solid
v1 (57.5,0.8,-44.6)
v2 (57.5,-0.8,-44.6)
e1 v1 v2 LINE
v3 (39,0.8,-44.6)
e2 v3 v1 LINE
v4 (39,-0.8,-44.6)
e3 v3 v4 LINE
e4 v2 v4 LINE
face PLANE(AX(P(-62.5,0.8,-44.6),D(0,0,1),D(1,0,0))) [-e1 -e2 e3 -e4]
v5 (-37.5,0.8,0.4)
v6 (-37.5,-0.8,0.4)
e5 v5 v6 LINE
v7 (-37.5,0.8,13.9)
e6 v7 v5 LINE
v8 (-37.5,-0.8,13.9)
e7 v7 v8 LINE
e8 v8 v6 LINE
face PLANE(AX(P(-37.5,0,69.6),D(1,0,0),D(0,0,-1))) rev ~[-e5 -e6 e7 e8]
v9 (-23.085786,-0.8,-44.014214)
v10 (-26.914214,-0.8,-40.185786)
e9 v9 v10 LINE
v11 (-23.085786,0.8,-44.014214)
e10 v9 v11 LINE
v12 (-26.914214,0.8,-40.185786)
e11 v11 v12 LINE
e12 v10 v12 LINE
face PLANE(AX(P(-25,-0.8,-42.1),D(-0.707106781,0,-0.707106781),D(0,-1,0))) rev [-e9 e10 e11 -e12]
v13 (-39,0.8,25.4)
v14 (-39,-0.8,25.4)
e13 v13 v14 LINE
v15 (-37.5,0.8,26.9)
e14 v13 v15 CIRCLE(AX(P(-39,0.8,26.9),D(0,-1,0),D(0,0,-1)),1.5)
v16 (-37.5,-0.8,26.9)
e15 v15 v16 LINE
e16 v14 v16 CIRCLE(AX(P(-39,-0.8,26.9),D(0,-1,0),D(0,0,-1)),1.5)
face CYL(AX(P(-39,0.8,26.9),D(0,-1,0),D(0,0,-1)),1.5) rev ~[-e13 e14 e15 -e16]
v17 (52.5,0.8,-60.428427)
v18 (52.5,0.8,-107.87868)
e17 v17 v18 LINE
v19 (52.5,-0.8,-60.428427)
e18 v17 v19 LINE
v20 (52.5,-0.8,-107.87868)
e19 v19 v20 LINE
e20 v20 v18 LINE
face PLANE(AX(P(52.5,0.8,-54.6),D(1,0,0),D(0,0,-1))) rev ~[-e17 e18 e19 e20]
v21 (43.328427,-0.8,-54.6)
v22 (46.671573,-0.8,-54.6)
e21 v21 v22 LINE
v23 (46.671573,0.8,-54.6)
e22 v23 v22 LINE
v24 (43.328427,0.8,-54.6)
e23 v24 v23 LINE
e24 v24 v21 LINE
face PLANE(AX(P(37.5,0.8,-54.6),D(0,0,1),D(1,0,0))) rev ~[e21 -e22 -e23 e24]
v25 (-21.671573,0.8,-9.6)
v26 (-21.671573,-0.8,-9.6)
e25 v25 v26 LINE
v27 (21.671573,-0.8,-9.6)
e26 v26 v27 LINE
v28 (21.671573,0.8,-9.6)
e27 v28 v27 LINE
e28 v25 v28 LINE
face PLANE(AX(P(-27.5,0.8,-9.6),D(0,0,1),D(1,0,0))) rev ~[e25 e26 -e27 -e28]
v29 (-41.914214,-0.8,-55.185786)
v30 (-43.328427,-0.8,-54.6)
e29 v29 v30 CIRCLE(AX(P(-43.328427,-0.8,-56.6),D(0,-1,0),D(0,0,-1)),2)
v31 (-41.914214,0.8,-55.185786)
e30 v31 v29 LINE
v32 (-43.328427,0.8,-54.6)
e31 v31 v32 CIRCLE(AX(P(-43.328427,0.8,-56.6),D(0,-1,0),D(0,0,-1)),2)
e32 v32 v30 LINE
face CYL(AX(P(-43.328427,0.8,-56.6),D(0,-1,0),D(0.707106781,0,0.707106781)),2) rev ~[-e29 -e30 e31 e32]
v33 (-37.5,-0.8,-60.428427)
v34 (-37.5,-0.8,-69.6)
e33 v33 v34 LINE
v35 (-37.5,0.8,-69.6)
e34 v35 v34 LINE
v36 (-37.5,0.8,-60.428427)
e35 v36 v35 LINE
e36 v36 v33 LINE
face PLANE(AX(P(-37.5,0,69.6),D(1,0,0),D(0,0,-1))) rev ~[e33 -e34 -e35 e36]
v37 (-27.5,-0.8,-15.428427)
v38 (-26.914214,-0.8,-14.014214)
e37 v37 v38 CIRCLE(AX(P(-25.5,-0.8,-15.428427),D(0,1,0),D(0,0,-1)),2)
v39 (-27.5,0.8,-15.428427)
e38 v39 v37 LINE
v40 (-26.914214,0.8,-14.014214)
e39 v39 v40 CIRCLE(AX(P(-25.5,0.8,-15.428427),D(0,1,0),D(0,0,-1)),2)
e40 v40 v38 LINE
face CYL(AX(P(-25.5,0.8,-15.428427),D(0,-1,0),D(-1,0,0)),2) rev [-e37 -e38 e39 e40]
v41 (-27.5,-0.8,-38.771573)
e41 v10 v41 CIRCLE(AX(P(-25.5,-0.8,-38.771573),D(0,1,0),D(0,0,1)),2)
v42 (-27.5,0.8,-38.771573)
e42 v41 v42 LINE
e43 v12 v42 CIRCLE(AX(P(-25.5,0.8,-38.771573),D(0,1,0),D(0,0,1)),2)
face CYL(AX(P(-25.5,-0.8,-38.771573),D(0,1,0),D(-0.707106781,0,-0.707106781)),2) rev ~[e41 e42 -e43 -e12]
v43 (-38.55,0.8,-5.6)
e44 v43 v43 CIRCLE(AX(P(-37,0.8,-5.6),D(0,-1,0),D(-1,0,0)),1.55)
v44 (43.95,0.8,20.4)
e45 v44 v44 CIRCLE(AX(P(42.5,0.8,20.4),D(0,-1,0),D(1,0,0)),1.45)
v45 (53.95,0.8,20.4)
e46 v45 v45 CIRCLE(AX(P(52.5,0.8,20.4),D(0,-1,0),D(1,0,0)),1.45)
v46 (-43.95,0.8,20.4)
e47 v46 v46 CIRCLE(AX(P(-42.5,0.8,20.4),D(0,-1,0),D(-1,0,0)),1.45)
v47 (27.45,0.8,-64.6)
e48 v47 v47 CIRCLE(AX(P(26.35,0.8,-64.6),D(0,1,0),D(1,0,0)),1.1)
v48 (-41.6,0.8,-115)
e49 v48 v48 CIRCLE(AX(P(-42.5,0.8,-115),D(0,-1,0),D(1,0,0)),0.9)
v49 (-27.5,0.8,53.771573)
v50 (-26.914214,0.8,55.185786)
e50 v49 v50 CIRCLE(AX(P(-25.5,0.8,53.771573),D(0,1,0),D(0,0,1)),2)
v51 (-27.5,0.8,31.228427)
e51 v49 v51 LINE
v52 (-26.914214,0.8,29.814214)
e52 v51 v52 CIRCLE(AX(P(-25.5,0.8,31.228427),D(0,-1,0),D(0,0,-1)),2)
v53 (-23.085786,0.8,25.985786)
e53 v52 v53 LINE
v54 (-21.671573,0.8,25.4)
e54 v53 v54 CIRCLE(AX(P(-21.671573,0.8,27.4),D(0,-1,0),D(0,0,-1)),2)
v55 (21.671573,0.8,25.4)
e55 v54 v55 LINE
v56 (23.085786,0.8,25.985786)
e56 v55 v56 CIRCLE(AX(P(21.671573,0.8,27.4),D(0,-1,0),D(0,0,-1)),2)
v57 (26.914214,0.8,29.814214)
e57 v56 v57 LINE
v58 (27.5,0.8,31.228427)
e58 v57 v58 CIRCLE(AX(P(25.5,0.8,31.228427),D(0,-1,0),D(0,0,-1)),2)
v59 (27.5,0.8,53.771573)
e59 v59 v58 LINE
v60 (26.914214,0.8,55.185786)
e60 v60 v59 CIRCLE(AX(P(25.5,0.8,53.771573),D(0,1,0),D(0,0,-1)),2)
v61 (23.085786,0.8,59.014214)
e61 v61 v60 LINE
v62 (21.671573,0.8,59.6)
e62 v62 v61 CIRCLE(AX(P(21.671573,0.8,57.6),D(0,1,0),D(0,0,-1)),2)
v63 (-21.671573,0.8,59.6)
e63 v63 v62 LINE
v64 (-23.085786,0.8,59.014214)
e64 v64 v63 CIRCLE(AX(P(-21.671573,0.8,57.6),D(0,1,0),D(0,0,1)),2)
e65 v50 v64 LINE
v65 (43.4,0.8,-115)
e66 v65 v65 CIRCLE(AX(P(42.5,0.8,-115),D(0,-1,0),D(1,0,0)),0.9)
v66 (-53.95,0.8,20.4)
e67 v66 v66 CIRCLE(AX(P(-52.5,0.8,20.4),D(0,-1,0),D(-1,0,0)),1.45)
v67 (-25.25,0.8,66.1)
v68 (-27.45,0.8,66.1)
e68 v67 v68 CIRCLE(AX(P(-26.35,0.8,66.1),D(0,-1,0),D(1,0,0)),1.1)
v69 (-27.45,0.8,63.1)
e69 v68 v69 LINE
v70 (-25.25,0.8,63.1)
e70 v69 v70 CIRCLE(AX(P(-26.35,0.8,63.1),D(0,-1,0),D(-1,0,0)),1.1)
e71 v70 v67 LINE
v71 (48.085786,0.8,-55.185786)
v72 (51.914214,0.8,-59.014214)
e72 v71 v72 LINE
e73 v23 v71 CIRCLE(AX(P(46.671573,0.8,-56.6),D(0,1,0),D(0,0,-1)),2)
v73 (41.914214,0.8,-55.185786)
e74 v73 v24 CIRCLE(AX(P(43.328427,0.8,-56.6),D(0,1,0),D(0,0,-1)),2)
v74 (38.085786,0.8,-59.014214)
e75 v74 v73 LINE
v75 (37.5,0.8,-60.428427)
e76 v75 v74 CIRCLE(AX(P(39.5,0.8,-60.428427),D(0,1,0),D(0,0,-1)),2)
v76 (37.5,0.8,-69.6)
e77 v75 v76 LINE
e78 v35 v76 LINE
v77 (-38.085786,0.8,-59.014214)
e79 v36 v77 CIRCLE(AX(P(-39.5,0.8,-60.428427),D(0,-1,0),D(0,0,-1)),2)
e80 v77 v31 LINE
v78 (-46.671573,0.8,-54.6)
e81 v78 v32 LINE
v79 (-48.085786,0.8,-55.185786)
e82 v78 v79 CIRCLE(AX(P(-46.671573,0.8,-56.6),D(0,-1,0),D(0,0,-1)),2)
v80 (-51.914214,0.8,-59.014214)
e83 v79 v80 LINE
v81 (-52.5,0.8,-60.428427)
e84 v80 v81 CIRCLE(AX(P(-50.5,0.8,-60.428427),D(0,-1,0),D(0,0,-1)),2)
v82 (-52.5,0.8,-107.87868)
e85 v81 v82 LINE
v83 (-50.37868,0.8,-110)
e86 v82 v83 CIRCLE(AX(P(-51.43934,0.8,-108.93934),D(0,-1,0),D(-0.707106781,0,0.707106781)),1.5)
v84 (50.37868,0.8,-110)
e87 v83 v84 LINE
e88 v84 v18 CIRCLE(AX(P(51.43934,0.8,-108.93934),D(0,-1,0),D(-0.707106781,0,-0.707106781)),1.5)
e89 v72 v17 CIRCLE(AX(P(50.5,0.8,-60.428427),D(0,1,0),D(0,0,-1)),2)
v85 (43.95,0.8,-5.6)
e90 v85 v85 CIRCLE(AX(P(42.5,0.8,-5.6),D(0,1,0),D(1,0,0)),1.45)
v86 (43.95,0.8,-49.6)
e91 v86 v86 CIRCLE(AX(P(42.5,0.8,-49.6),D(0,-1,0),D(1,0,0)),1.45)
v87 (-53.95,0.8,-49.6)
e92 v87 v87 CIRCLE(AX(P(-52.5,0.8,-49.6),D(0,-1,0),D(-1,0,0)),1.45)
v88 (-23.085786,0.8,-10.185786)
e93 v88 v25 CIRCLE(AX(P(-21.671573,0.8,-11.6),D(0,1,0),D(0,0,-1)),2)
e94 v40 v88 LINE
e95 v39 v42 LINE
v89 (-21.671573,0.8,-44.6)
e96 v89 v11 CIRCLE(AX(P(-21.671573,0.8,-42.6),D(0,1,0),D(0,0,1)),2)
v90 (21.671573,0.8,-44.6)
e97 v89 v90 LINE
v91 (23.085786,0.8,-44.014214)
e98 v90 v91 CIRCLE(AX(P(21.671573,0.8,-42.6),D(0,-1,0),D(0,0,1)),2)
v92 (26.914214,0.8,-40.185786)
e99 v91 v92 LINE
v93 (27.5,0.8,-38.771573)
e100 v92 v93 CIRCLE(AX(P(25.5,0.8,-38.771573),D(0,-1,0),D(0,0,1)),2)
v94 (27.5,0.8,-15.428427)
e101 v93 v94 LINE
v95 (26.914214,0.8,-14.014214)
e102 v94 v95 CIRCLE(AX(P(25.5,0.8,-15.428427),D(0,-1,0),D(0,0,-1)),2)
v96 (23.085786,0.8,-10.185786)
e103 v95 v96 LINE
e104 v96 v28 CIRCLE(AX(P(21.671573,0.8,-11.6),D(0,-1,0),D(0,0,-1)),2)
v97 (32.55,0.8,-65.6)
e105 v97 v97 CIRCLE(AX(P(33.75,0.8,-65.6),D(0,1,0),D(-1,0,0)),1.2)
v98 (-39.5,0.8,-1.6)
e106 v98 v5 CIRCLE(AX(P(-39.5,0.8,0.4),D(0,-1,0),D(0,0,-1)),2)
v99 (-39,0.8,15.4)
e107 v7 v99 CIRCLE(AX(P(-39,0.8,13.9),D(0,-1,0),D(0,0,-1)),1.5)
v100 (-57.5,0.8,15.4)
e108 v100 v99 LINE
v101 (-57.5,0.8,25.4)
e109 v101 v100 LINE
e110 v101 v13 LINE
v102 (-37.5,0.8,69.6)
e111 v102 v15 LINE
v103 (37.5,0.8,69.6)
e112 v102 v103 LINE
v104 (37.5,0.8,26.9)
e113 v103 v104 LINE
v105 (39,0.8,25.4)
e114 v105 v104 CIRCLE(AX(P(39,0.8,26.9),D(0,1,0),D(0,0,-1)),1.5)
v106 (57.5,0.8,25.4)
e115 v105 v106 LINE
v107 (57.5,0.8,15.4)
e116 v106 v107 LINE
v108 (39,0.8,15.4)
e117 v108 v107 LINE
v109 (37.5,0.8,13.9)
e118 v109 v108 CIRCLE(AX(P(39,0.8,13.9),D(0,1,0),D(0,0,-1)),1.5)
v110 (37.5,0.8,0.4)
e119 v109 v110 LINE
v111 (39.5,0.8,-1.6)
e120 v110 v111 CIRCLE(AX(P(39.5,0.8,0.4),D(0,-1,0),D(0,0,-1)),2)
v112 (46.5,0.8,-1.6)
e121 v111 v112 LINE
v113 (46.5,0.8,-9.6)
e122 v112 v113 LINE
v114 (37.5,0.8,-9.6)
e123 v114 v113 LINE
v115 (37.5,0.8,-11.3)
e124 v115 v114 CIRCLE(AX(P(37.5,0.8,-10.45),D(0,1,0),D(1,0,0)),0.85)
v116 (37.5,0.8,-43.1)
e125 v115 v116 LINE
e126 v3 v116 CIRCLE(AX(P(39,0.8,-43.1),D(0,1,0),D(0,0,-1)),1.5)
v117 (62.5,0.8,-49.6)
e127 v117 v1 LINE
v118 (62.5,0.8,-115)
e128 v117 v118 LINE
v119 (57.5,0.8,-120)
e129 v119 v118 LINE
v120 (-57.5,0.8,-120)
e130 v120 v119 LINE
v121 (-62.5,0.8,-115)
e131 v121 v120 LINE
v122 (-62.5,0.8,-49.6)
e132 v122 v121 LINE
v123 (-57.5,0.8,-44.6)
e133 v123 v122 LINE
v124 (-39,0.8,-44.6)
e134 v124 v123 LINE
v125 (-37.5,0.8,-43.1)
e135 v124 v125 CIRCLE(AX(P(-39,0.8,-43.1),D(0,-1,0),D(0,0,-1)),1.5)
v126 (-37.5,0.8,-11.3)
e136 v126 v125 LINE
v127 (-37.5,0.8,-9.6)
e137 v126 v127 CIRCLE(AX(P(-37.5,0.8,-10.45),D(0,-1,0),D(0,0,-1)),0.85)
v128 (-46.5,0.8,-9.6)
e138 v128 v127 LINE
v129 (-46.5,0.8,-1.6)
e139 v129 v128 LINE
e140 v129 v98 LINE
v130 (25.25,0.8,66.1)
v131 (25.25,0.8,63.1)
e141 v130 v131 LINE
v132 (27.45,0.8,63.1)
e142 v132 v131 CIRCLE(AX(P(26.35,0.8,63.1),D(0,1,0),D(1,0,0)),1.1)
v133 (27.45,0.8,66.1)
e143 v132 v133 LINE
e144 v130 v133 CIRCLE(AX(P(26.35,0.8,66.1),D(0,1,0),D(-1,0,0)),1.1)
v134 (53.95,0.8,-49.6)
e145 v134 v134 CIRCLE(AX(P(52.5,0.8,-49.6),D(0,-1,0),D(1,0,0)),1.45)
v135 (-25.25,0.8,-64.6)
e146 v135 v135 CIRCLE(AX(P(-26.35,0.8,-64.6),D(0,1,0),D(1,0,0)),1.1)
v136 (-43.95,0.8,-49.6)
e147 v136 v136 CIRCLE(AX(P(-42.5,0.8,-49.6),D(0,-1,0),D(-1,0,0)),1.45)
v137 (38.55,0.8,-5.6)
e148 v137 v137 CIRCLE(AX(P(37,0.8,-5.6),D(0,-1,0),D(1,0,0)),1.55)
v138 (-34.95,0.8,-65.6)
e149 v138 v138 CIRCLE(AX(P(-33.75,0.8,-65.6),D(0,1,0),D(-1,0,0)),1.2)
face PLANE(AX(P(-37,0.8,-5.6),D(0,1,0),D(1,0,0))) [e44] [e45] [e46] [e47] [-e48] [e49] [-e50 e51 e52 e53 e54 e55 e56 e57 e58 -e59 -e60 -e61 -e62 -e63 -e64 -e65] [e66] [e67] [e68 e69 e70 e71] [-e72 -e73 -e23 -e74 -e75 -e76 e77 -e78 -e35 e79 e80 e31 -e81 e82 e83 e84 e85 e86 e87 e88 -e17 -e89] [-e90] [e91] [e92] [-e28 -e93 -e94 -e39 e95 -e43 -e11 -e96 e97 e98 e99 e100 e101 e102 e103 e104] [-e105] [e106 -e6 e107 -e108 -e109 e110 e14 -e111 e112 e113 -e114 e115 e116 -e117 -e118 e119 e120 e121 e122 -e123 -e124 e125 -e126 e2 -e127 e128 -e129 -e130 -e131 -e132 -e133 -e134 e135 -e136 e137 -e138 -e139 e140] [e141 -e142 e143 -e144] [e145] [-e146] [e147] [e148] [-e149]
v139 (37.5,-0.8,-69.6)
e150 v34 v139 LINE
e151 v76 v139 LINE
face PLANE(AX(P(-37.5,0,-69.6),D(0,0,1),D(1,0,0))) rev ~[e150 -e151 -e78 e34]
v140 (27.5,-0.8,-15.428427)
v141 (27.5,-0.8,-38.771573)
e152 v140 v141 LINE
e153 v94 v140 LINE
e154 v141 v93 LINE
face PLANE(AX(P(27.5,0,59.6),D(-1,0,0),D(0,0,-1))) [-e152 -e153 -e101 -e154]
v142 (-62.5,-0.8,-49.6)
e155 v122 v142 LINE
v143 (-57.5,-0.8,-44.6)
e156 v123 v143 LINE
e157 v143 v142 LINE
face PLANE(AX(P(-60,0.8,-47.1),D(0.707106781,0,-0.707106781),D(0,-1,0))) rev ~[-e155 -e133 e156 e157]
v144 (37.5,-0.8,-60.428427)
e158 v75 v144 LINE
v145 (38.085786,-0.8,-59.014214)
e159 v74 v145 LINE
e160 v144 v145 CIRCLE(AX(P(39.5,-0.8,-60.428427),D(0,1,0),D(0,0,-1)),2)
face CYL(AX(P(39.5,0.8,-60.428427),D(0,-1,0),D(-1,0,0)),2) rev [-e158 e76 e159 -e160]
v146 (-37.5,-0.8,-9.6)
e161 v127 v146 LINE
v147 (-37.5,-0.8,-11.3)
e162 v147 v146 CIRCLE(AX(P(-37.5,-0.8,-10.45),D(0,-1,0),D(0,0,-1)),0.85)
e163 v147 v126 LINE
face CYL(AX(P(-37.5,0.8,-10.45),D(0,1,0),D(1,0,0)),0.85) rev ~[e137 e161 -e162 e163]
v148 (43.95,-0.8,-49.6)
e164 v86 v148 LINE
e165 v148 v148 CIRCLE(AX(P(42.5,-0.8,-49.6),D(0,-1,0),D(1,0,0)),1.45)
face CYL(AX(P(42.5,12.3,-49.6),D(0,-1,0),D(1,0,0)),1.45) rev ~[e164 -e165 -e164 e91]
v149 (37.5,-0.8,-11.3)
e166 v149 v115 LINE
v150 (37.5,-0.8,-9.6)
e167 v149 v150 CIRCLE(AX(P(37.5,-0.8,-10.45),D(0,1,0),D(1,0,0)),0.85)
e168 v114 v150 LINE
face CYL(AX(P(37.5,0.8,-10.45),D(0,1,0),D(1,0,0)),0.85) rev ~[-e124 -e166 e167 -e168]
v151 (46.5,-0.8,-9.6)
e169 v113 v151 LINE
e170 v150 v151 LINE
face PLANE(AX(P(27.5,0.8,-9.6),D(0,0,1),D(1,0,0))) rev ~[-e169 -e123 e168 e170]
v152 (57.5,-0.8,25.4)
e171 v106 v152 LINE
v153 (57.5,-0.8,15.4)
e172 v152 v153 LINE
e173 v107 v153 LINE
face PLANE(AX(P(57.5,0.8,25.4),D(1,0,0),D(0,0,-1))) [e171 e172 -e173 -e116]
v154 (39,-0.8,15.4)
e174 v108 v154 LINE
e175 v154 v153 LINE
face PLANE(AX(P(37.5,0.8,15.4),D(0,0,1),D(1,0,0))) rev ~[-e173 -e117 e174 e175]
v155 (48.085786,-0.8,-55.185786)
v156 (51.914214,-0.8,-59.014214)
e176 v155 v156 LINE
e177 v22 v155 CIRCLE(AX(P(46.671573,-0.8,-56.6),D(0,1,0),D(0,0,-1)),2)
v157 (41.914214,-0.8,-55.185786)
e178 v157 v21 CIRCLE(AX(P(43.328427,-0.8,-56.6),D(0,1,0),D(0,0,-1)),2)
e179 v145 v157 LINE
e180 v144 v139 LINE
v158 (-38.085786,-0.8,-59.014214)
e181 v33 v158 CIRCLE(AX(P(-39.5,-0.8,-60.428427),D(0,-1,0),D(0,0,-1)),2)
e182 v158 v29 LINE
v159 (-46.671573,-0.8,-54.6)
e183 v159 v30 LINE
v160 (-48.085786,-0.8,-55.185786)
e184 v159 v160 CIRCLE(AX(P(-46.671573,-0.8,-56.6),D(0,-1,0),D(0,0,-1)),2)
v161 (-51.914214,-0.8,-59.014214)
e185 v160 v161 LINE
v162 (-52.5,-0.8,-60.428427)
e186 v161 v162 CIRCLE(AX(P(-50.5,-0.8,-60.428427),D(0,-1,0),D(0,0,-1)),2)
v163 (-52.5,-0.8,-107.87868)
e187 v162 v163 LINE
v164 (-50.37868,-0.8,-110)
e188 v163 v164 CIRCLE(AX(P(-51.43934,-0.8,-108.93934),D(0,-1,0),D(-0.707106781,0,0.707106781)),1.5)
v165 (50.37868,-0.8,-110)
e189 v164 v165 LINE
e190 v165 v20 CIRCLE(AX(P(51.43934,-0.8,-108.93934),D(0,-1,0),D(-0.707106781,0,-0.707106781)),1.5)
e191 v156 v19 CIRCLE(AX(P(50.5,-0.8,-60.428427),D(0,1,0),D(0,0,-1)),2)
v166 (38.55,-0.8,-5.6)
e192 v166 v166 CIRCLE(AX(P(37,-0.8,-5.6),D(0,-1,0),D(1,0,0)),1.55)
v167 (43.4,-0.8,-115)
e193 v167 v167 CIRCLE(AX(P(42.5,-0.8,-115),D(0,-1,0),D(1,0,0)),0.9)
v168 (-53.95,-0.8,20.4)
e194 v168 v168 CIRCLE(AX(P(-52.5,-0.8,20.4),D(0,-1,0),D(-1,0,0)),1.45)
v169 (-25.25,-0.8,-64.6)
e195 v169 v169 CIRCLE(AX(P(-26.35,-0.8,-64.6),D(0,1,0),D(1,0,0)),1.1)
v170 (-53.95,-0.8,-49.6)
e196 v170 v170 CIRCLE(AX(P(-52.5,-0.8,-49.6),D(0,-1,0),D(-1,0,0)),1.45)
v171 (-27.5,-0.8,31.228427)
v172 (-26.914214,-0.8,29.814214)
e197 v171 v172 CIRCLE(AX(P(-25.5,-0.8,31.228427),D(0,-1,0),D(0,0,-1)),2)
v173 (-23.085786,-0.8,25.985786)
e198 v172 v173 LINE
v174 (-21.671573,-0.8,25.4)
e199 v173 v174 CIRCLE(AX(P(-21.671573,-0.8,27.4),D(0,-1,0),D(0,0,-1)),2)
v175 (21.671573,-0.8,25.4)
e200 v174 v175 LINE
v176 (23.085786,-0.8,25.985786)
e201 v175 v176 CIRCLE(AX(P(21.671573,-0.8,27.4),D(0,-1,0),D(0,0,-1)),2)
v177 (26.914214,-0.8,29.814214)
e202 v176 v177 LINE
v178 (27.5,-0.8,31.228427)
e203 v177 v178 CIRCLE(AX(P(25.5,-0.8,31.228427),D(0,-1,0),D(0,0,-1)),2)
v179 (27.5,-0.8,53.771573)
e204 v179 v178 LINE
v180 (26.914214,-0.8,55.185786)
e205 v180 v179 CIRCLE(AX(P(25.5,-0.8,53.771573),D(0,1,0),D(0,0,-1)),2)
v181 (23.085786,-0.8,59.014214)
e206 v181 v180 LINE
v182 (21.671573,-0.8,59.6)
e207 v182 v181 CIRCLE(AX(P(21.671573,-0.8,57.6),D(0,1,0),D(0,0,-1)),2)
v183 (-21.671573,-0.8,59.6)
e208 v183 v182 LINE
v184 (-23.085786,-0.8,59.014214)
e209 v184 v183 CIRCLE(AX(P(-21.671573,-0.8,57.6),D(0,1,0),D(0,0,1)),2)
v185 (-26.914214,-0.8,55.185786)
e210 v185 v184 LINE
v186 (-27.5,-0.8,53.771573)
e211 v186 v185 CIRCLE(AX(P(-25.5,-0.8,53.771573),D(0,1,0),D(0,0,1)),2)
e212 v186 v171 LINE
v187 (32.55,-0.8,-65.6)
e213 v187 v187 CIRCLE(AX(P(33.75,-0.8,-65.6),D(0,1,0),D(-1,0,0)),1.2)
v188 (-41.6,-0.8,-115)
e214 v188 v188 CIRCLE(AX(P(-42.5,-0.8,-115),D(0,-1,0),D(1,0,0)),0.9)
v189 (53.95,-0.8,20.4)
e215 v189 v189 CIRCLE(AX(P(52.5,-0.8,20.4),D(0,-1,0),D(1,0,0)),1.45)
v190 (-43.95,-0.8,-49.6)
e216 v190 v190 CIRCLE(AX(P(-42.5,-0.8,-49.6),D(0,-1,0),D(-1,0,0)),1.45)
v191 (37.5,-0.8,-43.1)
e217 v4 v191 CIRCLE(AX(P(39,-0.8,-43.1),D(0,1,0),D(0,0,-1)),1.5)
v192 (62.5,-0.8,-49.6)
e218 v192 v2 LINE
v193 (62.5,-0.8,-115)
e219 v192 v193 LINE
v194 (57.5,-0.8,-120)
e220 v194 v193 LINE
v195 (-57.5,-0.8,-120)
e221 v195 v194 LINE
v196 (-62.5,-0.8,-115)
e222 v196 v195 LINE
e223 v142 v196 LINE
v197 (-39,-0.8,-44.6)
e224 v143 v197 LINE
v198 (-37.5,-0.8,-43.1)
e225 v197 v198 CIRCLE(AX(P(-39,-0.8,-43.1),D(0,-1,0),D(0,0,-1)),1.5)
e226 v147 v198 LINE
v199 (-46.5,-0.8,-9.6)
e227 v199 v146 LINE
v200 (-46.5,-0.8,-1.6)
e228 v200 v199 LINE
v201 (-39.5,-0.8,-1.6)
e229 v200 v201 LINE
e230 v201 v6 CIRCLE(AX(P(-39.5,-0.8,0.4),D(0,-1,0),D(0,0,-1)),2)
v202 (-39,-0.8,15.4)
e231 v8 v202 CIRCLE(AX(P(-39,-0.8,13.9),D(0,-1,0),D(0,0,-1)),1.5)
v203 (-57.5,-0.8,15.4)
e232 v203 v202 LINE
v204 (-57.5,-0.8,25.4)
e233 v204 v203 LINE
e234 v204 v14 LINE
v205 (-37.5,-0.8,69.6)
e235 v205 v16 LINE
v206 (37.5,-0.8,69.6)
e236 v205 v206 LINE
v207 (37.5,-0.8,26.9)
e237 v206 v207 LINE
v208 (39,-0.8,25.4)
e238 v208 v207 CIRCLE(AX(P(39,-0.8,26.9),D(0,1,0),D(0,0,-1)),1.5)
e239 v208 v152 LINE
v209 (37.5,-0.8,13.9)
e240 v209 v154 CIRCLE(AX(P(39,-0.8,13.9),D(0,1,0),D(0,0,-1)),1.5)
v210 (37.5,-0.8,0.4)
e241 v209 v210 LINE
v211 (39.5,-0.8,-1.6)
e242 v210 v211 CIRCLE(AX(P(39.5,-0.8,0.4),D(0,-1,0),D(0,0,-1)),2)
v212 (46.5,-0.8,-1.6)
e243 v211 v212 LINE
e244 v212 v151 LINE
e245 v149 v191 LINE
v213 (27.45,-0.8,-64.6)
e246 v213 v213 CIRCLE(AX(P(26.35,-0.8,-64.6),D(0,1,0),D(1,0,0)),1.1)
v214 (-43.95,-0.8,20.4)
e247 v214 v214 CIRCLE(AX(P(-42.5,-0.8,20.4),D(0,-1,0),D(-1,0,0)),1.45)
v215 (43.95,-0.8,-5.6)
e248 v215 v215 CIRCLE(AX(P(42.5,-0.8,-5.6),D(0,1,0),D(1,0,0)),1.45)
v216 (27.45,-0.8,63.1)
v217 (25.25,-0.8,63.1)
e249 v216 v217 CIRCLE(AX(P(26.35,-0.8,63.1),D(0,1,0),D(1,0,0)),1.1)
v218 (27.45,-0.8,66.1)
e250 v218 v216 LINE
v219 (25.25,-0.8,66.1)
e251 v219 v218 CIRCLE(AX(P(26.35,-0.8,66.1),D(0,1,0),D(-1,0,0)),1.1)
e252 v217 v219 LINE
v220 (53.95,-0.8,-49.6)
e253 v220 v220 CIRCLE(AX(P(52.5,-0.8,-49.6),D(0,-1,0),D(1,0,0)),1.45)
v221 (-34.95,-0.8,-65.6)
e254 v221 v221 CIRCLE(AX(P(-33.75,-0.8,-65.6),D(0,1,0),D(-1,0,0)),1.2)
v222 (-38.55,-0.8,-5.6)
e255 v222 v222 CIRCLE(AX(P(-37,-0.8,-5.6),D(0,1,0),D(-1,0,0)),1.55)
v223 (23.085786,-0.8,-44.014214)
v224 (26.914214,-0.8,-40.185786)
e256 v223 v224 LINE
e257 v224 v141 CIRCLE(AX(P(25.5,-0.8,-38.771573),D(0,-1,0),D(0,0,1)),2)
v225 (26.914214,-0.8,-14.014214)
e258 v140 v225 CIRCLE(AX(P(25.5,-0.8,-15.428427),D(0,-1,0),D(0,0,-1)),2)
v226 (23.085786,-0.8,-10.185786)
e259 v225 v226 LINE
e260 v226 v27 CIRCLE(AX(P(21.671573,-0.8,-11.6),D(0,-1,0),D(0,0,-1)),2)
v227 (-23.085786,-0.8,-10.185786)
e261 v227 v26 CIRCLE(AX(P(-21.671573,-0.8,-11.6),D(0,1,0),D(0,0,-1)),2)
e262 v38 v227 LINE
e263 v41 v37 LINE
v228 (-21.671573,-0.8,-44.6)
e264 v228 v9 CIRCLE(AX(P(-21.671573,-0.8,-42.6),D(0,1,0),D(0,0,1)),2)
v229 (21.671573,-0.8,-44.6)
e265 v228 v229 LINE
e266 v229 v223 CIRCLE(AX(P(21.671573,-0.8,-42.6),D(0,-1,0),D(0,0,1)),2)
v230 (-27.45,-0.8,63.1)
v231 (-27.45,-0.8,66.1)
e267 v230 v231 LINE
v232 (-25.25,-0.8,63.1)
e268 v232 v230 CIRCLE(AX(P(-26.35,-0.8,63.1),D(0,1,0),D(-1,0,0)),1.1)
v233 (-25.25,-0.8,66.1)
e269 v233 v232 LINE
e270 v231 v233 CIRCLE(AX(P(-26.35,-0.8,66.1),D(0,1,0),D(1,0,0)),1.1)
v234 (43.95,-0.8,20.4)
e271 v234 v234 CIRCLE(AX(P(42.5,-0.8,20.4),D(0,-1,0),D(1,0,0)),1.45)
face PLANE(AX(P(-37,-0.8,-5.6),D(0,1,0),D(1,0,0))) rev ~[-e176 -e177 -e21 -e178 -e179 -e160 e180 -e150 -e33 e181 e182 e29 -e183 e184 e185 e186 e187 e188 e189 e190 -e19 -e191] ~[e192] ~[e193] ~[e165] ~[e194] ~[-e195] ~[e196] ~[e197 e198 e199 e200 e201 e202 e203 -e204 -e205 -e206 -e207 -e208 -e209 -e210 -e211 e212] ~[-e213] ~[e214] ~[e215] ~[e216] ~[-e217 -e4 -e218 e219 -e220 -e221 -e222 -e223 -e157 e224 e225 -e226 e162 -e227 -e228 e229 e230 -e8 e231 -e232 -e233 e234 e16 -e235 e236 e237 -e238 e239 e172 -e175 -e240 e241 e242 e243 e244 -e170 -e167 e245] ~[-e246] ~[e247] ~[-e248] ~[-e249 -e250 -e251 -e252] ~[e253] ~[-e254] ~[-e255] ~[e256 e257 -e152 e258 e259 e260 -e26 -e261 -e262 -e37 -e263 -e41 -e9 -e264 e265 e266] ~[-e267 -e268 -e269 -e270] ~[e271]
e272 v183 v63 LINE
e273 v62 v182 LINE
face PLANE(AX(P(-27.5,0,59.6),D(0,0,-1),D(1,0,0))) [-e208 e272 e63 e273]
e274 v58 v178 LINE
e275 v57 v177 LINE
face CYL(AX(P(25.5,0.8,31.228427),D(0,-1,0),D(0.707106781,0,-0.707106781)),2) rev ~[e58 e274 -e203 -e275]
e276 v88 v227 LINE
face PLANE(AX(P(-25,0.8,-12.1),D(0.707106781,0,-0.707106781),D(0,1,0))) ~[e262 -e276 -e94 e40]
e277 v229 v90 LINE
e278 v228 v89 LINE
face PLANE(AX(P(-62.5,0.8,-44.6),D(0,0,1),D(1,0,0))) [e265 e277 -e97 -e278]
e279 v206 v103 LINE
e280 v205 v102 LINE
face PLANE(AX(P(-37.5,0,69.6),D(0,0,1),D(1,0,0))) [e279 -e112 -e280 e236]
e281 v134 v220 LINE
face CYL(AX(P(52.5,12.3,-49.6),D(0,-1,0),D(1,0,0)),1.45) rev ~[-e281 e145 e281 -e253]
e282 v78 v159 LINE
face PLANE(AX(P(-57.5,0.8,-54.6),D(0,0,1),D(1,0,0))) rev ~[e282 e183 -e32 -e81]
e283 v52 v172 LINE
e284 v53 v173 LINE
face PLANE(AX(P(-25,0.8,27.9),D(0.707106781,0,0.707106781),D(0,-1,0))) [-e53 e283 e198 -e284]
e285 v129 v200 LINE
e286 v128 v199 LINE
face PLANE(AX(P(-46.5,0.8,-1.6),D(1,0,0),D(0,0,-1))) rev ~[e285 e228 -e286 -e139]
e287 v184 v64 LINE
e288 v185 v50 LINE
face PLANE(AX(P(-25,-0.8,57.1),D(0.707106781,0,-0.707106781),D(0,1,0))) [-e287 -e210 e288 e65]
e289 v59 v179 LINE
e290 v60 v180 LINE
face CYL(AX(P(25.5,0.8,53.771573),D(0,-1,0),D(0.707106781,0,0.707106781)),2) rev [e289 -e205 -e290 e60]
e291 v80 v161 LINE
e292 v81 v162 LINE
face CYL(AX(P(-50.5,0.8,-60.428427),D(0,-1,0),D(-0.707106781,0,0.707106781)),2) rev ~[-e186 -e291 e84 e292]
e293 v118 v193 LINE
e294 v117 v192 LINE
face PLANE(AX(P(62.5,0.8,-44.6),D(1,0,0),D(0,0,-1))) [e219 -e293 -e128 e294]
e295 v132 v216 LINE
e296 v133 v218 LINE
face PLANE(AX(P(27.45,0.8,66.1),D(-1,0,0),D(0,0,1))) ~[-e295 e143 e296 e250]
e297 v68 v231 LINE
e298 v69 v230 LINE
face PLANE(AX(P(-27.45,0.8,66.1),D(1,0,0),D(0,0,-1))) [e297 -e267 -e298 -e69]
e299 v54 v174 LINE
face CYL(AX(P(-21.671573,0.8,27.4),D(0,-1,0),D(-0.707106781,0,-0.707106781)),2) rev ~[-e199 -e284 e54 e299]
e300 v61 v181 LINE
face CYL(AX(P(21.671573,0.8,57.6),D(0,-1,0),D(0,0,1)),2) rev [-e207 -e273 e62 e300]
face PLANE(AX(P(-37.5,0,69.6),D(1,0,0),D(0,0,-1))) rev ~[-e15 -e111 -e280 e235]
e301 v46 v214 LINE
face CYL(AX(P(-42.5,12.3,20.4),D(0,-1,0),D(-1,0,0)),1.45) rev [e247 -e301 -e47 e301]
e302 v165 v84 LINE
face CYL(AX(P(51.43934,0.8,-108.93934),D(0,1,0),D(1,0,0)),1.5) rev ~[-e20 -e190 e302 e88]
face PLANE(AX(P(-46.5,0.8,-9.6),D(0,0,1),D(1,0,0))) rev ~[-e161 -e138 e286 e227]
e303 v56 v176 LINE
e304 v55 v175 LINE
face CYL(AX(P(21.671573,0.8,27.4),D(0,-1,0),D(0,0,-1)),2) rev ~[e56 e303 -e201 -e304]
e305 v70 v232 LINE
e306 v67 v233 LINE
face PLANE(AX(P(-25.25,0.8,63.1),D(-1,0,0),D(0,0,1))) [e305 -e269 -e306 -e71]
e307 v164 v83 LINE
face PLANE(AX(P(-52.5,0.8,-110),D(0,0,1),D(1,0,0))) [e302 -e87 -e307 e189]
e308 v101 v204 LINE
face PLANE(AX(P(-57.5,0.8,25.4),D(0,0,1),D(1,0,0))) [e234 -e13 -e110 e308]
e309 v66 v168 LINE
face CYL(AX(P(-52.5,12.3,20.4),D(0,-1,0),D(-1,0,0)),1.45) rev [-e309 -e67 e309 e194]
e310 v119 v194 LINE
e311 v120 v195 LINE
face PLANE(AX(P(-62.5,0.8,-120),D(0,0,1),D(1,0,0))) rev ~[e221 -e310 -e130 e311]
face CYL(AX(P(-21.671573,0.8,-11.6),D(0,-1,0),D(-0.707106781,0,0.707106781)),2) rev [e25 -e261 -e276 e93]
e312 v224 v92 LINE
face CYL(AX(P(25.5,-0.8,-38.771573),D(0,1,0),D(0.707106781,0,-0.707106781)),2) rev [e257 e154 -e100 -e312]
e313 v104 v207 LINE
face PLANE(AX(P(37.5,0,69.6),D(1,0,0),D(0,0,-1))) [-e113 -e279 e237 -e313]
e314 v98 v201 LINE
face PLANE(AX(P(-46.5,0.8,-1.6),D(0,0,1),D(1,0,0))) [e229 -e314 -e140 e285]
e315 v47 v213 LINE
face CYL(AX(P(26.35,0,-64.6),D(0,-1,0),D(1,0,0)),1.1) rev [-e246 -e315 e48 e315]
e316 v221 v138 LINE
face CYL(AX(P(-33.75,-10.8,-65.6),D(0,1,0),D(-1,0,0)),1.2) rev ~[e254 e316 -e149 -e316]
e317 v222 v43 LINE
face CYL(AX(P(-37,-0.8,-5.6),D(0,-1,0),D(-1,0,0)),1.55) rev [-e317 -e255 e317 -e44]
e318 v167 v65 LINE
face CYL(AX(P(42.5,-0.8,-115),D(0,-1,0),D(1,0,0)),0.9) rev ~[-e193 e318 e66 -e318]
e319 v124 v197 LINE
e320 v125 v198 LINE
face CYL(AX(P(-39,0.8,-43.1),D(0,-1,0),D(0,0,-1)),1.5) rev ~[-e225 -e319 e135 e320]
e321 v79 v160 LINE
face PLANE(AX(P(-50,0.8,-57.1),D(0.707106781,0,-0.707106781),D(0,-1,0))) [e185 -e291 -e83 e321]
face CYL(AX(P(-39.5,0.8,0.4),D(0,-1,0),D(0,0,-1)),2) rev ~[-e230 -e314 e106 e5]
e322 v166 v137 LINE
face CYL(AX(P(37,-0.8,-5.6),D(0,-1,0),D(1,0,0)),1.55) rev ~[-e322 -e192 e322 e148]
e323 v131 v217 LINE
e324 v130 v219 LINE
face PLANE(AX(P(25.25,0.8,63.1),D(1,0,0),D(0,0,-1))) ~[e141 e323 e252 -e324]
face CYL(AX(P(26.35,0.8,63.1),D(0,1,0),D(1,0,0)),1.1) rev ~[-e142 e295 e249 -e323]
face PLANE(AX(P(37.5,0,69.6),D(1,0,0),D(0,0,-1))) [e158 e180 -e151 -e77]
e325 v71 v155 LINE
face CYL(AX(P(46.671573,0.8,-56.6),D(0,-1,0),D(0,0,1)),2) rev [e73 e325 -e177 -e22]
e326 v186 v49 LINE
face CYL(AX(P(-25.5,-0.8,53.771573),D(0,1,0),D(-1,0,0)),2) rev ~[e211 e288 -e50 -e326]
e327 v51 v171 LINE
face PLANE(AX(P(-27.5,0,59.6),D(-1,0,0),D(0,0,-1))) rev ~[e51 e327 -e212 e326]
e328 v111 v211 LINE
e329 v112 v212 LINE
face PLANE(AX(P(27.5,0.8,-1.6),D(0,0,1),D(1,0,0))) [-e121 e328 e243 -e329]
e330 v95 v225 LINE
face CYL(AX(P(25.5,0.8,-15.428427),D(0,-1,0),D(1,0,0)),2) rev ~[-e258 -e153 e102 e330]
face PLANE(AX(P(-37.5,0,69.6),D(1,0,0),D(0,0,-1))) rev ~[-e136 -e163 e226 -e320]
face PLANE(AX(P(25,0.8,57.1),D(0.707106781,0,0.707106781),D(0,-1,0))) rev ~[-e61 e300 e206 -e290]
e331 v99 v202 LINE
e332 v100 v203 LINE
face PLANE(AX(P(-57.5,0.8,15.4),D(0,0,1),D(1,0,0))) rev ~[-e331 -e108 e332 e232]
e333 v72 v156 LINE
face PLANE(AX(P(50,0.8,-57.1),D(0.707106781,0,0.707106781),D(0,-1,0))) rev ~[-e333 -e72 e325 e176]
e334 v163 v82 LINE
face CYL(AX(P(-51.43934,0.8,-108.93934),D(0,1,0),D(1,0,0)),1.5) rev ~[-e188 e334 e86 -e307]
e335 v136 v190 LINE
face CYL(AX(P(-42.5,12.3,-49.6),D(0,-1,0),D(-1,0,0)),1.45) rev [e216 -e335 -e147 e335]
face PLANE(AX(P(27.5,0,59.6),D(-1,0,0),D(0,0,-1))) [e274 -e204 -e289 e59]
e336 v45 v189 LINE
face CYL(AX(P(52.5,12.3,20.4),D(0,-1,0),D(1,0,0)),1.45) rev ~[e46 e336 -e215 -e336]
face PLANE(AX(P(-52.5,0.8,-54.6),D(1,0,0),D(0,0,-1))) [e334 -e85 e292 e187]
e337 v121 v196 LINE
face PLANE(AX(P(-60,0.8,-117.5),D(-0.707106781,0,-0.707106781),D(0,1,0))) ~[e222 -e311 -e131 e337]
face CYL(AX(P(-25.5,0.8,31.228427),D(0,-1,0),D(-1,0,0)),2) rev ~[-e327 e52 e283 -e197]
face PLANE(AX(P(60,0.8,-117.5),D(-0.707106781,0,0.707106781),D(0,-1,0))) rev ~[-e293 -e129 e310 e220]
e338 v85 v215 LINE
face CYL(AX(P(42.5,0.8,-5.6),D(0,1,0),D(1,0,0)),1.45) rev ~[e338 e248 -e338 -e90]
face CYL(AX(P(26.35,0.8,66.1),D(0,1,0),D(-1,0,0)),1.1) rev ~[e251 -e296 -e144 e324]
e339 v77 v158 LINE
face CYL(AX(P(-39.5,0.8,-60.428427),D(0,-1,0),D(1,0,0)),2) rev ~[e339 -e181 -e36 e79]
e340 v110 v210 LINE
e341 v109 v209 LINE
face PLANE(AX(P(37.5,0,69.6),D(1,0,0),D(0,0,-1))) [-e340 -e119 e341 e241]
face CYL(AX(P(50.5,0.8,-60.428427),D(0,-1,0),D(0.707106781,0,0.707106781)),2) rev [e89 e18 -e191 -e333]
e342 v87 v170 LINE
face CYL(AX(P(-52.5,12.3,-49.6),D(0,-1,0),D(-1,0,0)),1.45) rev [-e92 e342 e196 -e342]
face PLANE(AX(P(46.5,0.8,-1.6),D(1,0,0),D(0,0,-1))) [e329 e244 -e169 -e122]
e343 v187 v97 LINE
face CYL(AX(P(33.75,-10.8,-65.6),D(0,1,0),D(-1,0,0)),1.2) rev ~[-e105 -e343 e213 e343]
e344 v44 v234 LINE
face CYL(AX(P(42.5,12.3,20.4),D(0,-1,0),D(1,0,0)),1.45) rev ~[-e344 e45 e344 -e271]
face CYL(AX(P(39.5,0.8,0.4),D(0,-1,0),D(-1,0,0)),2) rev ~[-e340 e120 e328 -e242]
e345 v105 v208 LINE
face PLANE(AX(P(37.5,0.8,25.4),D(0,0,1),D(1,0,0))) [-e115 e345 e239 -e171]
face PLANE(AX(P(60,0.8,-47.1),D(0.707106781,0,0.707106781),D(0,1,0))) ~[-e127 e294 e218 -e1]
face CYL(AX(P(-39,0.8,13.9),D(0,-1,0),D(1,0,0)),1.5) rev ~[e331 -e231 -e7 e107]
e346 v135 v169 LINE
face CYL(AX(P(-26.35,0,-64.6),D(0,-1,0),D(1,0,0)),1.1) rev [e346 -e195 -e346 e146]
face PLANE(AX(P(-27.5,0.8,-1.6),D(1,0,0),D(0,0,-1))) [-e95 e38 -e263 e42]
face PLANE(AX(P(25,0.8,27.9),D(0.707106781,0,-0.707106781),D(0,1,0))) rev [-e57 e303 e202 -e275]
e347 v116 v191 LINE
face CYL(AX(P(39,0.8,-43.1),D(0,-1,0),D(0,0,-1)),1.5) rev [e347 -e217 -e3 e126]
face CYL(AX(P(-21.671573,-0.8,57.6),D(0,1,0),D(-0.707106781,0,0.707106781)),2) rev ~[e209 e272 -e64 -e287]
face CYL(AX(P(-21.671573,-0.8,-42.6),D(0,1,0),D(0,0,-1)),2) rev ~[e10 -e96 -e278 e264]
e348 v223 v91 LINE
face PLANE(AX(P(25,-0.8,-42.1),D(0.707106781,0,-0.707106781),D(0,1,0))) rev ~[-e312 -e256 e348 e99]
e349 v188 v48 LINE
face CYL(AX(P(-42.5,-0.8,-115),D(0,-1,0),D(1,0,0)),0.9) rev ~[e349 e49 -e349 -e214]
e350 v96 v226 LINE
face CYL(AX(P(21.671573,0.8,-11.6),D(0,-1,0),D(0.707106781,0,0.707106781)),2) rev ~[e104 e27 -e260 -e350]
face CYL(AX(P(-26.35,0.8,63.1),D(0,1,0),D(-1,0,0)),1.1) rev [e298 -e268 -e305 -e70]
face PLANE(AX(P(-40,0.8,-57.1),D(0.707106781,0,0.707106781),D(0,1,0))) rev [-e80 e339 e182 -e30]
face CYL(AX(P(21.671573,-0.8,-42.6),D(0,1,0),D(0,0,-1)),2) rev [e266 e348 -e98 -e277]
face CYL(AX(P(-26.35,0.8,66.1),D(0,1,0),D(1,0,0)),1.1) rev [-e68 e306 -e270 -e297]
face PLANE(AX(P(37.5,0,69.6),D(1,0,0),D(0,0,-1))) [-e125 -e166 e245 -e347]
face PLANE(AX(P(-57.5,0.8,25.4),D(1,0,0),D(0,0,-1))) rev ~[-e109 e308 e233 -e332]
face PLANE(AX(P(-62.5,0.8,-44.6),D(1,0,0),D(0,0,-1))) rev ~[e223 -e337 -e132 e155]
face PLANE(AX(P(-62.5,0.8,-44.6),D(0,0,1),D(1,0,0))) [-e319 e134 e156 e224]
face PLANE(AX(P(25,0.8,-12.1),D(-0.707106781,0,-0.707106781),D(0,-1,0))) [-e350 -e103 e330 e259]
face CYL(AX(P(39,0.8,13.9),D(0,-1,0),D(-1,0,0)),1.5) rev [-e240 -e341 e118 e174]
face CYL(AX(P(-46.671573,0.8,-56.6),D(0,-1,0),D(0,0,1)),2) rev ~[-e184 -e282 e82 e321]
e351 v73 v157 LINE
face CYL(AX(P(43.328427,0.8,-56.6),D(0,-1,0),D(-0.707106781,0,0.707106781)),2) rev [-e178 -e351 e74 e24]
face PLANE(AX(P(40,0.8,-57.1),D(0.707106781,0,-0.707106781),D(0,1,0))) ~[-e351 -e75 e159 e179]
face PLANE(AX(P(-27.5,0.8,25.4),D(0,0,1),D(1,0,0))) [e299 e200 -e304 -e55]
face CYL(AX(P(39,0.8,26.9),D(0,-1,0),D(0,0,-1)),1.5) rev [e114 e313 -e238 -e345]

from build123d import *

# Parameters (mm, degrees)
SKETCH1_W                    = 75
SKETCH1_H                    = 139.2
SKETCH1_R                    = 1.1
SKETCH1_W_2                  = 55
SKETCH1_H_2                  = 119.2
BOSS_EXTRUDE1_DEPTH          = 0.8
BOSS_EXTRUDE1_DEPTH_BACK     = 0.8
SKETCH2_W                    = 20
SKETCH2_H                    = 10
BOSS_EXTRUDE2_DEPTH          = 1.6
SKETCH6_W                    = 125
SKETCH6_H                    = 75.4
SKETCH6_W_2                  = 105
SKETCH6_H_2                  = 55.4
BOSS_EXTRUDE4_DEPTH          = 1.6
M2_5_CLEARANCE_HOLE1_D       = 2.9
M2_5_CLEARANCE_HOLE1_DEPTH   = 11.5
FILLET1_R                    = 1.5
CUT_EXTRUDE2_DEPTH           = 10
SKETCH10_W                   = 55
SKETCH10_H                   = 10
BOSS_EXTRUDE5_DEPTH          = 1.6
SKETCH11_W                   = 19
SKETCH11_H                   = 8
SKETCH11_R                   = 1.45
BOSS_EXTRUDE6_DEPTH          = 1.6
SKETCH12_W                   = 55
SKETCH12_H                   = 8
BOSS_EXTRUDE7_DEPTH          = 1.6
FILLET3_R                    = 2
CHAMFER1_SIZE                = 5
SKETCH13_R                   = 1.5
CUT_EXTRUDE3_DEPTH           = 10
SKETCH15_R                   = 1.55
CUT_EXTRUDE4_DEPTH           = 10
CHAMFER2_SIZE                = 5
FILLET4_R                    = 2
SKETCH17_W                   = 58.67264252
SKETCH17_H                   = 24.596391624
SKETCH17_W_2                 = 62.115544984
SKETCH17_H_2                 = 8.350438831
BOSS_EXTRUDE8_DEPTH          = 1.6
SKETCH18_R                   = 0.85
CUT_EXTRUDE5_DEPTH           = 10
M2_CLEARANCE_HOLE1_D         = 2.4
M2_CLEARANCE_HOLE1_DEPTH     = 10
ESQUISSE1_R                  = 0.9
ENL_V_MAT_EXTRU_1_DEPTH      = 10
ENL_V_MAT_EXTRU_1_DEPTH_BACK = 10


with BuildPart() as part:
    # Sketch1 → Boss-Extrude1 (new body, two sides)
    with BuildSketch(Plane(origin=(0, 0, 0), x_dir=(1, 0, 0), z_dir=(0, 1, 0))) as boss_extrude1_sk:
        Rectangle(SKETCH1_W, SKETCH1_H)
        with Locations((-26.35, 64.6)):
            Circle(SKETCH1_R, mode=Mode.SUBTRACT)
        with Locations((26.35, 64.6)):
            Circle(SKETCH1_R, mode=Mode.SUBTRACT)
        with Locations((26.35, -64.6)):
            Circle(SKETCH1_R, mode=Mode.SUBTRACT)
        with Locations((-26.35, -64.6)):
            Circle(SKETCH1_R, mode=Mode.SUBTRACT)
        Rectangle(SKETCH1_W_2, SKETCH1_H_2, mode=Mode.SUBTRACT)
    extrude(amount=BOSS_EXTRUDE1_DEPTH)
    extrude(boss_extrude1_sk.sketch, amount=-BOSS_EXTRUDE1_DEPTH_BACK)

    # Sketch2 → Boss-Extrude2 (add)
    with BuildSketch(Plane(origin=(0, 0.8, 0), x_dir=(1, 0, 0), z_dir=(0, 1, 0))):
        with Locations((47.5, 49.6)):
            Rectangle(SKETCH2_W, SKETCH2_H)
        with Locations((-47.5, 49.6)):
            Rectangle(SKETCH2_W, SKETCH2_H)
        with Locations((47.5, -20.4)):
            Rectangle(SKETCH2_W, SKETCH2_H)
        with Locations((-47.5, -20.4)):
            Rectangle(SKETCH2_W, SKETCH2_H)
    extrude(amount=-BOSS_EXTRUDE2_DEPTH)

    # Sketch6 → Boss-Extrude4 (add)
    with BuildSketch(Plane(origin=(0, 0.8, 0), x_dir=(1, 0, 0), z_dir=(0, 1, 0))):
        with Locations((0, 82.3)):
            Rectangle(SKETCH6_W, SKETCH6_H)
        with Locations((0, 82.3)):
            Rectangle(SKETCH6_W_2, SKETCH6_H_2, mode=Mode.SUBTRACT)
    extrude(amount=-BOSS_EXTRUDE4_DEPTH)

    # M2.5 Clearance Hole1
    with Locations(Plane(origin=(0, 0.8, 0), x_dir=(-1, 0, 0), z_dir=(0, 1, 0))):
        with Locations((-52.5, -49.6), (-52.5, 20.4), (-42.5, -49.6), (-42.5, 20.4)):
            m2_5_clearance_hole1 = Hole(M2_5_CLEARANCE_HOLE1_D / 2, depth=M2_5_CLEARANCE_HOLE1_DEPTH)

    # Mirror1: M2.5 Clearance Hole1 across plane
    add(m2_5_clearance_hole1.mirror(Plane(origin=(0, 0, 0), x_dir=(0, 0, 1), z_dir=(1, 0, 0))), mode=Mode.SUBTRACT)

    # Fillet1
    fillet1_edges = [part.edges().sort_by_distance(p)[0] for p in [
        (37.5, 0, 25.4),
        (37.5, 0, 15.4),
        (-37.5, 0, 15.4),
        (-37.5, 0, 25.4),
        (-37.5, 0, -44.6),
        (37.5, 0, -44.6),
        (27.5, 0, -59.6),
        (-27.5, 0, -59.6),
        (27.5, 0, -54.6),
        (-27.5, 0, -54.6),
    ]]
    fillet(fillet1_edges, radius=FILLET1_R)

    # Sketch9 → Cut-Extrude2 (cut)
    with BuildSketch(Plane(origin=(0, 0.8, 0), x_dir=(1, 0, 0), z_dir=(0, 1, 0))):
        with BuildLine():
            Line((-25.25, -63.1), (-25.25, -66.1))
            ThreePointArc((-25.25, -66.1), (-26.35, -67.2), (-27.45, -66.1))
            Line((-27.45, -66.1), (-27.45, -63.1))
            ThreePointArc((-27.45, -63.1), (-26.35, -62), (-25.25, -63.1))
        make_face()
    cut_extrude2 = extrude(amount=-CUT_EXTRUDE2_DEPTH, mode=Mode.SUBTRACT)

    # Mirror2: Cut-Extrude2 across plane
    add(cut_extrude2.mirror(Plane(origin=(0, 0, 0), x_dir=(0, 0, 1), z_dir=(1, 0, 0))), mode=Mode.SUBTRACT)

    # Sketch10 → Boss-Extrude5 (add)
    with BuildSketch(Plane(origin=(0, 0.8, 0), x_dir=(1, 0, 0), z_dir=(0, 1, 0))):
        with Locations((0, -20.4)):
            Rectangle(SKETCH10_W, SKETCH10_H)
    extrude(amount=-BOSS_EXTRUDE5_DEPTH)

    # Sketch11 → Boss-Extrude6 (add)
    with BuildSketch(Plane(origin=(0, 0.8, 0), x_dir=(1, 0, 0), z_dir=(0, 1, 0))):
        with Locations((-37, 5.6)):
            Rectangle(SKETCH11_W, SKETCH11_H)
        with Locations((37, 5.6)):
            Rectangle(SKETCH11_W, SKETCH11_H)
        with Locations((42.5, 5.6)):
            Circle(SKETCH11_R, mode=Mode.SUBTRACT)
    extrude(amount=-BOSS_EXTRUDE6_DEPTH)

    # Sketch12 → Boss-Extrude7 (add)
    with BuildSketch(Plane(origin=(0, 0.8, 0), x_dir=(1, 0, 0), z_dir=(0, 1, 0))):
        with Locations((0, 5.6)):
            Rectangle(SKETCH12_W, SKETCH12_H)
    extrude(amount=-BOSS_EXTRUDE7_DEPTH)

    # Fillet3
    fillet3_edges = [part.edges().sort_by_distance(p)[0] for p in [
        (37.5, 0, -1.6),
        (-37.5, 0, -1.6),
    ]]
    fillet(fillet3_edges, radius=FILLET3_R)

    # Chamfer1
    chamfer1_edges = [part.edges().sort_by_distance(p)[0] for p in [
        (62.5, 0, -44.6),
        (62.5, 0, -120),
        (-62.5, 0, -120),
        (-62.5, 0, -44.6),
    ]]
    chamfer(chamfer1_edges, length=CHAMFER1_SIZE)

    # Sketch13 → Cut-Extrude3 (cut)
    with BuildSketch(Plane(origin=(0, 0.8, 0), x_dir=(1, 0, 0), z_dir=(0, 1, 0))):
        with Locations((-51.439339828, 108.939339828)):
            Circle(SKETCH13_R)
        with Locations((51.439339828, 108.939339828)):
            Circle(SKETCH13_R)
    extrude(amount=-CUT_EXTRUDE3_DEPTH, mode=Mode.SUBTRACT)

    # Sketch15 → Cut-Extrude4 (cut)
    with BuildSketch(Plane.XZ.offset(0.8)):
        with Locations((37, -5.6)):
            Circle(SKETCH15_R)
    cut_extrude4 = extrude(amount=-CUT_EXTRUDE4_DEPTH, mode=Mode.SUBTRACT)

    # Mirror3: Cut-Extrude4 across plane
    add(cut_extrude4.mirror(Plane(origin=(0, 0, 0), x_dir=(0, 0, 1), z_dir=(1, 0, 0))), mode=Mode.SUBTRACT)

    # Chamfer2
    chamfer2_edges = [part.edges().sort_by_distance(p)[0] for p in [
        (-27.5, 0, 59.6),
        (27.5, 0, 59.6),
        (52.5, 0, -54.6),
        (37.5, 0, -54.6),
        (-37.5, 0, -54.6),
        (-52.5, 0, -54.6),
        (27.5, 0, -44.6),
        (-27.5, 0, -44.6),
        (-27.5, 0, 15.4),
        (27.5, 0, 15.4),
        (27.5, 0, 25.4),
        (-27.5, 0, 25.4),
        (-27.5, 0, -9.6),
        (27.5, 0, -9.6),
        (27.5, 0, -1.6),
        (-27.5, 0, -1.6),
    ]]
    chamfer(chamfer2_edges, length=CHAMFER2_SIZE)

    # Fillet4
    fillet4_edges = [part.edges().sort_by_distance(p)[0] for p in [
        (-27.5, 0, 30.4),
        (-22.5, 0, 25.4),
        (-22.5, 0, -1.6),
        (-27.5, 0, 3.4),
        (-22.5, 0, 15.4),
        (-27.5, 0, 10.4),
        (-22.5, 0, -9.6),
        (-27.5, 0, -14.6),
        (-27.5, 0, -39.6),
        (-22.5, 0, -44.6),
        (37.5, 0, -59.6),
        (42.5, 0, -54.6),
        (47.5, 0, -54.6),
        (52.5, 0, -59.6),
        (22.5, 0, -44.6),
        (27.5, 0, -39.6),
        (22.5, 0, -9.6),
        (27.5, 0, -14.6),
        (22.5, 0, 15.4),
        (27.5, 0, 10.4),
        (27.5, 0, 3.4),
        (22.5, 0, -1.6),
        (27.5, 0, 30.4),
        (22.5, 0, 25.4),
        (22.5, 0, 59.6),
        (27.5, 0, 54.6),
        (-27.5, 0, 54.6),
        (-22.5, 0, 59.6),
        (-52.5, 0, -59.6),
        (-47.5, 0, -54.6),
        (-42.5, 0, -54.6),
        (-37.5, 0, -59.6),
    ]]
    fillet(fillet4_edges, radius=FILLET4_R)

    # Sketch17 → Boss-Extrude8 (add)
    with BuildSketch(Plane(origin=(0, 0.8, 0), x_dir=(1, 0, 0), z_dir=(0, 1, 0))):
        with Locations((0.384318619, -6.570339181)):
            Rectangle(SKETCH17_W, SKETCH17_H)
        with Locations((0.147528901, 56.270374441)):
            Rectangle(SKETCH17_W_2, SKETCH17_H_2)
    extrude(amount=-BOSS_EXTRUDE8_DEPTH)

    # Sketch18 → Cut-Extrude5 (cut)
    with BuildSketch(Plane(origin=(0, 0.8, 0), x_dir=(1, 0, 0), z_dir=(0, 1, 0))):
        with Locations((-37.5, 10.45)):
            Circle(SKETCH18_R)
        with Locations((37.5, 10.45)):
            Circle(SKETCH18_R)
    extrude(amount=-CUT_EXTRUDE5_DEPTH, mode=Mode.SUBTRACT)

    # M2 Clearance Hole1
    with Locations(Plane.XZ.offset(0.8)):
        with Locations((33.75, -65.6), (-33.75, -65.6)):
            Hole(M2_CLEARANCE_HOLE1_D / 2, depth=M2_CLEARANCE_HOLE1_DEPTH)

    # Esquisse1 → Enl_v. mat.-Extru.1 (cut, two sides)
    with BuildSketch(Plane.XZ.offset(0.8)) as enl_v_mat_extru_1_sk:
        with Locations((42.5, -115)):
            Circle(ESQUISSE1_R)
        with Locations((-42.5, -115)):
            Circle(ESQUISSE1_R)
    extrude(amount=ENL_V_MAT_EXTRU_1_DEPTH, mode=Mode.SUBTRACT)
    extrude(enl_v_mat_extru_1_sk.sketch, amount=-ENL_V_MAT_EXTRU_1_DEPTH_BACK, mode=Mode.SUBTRACT)


solid = part.part
